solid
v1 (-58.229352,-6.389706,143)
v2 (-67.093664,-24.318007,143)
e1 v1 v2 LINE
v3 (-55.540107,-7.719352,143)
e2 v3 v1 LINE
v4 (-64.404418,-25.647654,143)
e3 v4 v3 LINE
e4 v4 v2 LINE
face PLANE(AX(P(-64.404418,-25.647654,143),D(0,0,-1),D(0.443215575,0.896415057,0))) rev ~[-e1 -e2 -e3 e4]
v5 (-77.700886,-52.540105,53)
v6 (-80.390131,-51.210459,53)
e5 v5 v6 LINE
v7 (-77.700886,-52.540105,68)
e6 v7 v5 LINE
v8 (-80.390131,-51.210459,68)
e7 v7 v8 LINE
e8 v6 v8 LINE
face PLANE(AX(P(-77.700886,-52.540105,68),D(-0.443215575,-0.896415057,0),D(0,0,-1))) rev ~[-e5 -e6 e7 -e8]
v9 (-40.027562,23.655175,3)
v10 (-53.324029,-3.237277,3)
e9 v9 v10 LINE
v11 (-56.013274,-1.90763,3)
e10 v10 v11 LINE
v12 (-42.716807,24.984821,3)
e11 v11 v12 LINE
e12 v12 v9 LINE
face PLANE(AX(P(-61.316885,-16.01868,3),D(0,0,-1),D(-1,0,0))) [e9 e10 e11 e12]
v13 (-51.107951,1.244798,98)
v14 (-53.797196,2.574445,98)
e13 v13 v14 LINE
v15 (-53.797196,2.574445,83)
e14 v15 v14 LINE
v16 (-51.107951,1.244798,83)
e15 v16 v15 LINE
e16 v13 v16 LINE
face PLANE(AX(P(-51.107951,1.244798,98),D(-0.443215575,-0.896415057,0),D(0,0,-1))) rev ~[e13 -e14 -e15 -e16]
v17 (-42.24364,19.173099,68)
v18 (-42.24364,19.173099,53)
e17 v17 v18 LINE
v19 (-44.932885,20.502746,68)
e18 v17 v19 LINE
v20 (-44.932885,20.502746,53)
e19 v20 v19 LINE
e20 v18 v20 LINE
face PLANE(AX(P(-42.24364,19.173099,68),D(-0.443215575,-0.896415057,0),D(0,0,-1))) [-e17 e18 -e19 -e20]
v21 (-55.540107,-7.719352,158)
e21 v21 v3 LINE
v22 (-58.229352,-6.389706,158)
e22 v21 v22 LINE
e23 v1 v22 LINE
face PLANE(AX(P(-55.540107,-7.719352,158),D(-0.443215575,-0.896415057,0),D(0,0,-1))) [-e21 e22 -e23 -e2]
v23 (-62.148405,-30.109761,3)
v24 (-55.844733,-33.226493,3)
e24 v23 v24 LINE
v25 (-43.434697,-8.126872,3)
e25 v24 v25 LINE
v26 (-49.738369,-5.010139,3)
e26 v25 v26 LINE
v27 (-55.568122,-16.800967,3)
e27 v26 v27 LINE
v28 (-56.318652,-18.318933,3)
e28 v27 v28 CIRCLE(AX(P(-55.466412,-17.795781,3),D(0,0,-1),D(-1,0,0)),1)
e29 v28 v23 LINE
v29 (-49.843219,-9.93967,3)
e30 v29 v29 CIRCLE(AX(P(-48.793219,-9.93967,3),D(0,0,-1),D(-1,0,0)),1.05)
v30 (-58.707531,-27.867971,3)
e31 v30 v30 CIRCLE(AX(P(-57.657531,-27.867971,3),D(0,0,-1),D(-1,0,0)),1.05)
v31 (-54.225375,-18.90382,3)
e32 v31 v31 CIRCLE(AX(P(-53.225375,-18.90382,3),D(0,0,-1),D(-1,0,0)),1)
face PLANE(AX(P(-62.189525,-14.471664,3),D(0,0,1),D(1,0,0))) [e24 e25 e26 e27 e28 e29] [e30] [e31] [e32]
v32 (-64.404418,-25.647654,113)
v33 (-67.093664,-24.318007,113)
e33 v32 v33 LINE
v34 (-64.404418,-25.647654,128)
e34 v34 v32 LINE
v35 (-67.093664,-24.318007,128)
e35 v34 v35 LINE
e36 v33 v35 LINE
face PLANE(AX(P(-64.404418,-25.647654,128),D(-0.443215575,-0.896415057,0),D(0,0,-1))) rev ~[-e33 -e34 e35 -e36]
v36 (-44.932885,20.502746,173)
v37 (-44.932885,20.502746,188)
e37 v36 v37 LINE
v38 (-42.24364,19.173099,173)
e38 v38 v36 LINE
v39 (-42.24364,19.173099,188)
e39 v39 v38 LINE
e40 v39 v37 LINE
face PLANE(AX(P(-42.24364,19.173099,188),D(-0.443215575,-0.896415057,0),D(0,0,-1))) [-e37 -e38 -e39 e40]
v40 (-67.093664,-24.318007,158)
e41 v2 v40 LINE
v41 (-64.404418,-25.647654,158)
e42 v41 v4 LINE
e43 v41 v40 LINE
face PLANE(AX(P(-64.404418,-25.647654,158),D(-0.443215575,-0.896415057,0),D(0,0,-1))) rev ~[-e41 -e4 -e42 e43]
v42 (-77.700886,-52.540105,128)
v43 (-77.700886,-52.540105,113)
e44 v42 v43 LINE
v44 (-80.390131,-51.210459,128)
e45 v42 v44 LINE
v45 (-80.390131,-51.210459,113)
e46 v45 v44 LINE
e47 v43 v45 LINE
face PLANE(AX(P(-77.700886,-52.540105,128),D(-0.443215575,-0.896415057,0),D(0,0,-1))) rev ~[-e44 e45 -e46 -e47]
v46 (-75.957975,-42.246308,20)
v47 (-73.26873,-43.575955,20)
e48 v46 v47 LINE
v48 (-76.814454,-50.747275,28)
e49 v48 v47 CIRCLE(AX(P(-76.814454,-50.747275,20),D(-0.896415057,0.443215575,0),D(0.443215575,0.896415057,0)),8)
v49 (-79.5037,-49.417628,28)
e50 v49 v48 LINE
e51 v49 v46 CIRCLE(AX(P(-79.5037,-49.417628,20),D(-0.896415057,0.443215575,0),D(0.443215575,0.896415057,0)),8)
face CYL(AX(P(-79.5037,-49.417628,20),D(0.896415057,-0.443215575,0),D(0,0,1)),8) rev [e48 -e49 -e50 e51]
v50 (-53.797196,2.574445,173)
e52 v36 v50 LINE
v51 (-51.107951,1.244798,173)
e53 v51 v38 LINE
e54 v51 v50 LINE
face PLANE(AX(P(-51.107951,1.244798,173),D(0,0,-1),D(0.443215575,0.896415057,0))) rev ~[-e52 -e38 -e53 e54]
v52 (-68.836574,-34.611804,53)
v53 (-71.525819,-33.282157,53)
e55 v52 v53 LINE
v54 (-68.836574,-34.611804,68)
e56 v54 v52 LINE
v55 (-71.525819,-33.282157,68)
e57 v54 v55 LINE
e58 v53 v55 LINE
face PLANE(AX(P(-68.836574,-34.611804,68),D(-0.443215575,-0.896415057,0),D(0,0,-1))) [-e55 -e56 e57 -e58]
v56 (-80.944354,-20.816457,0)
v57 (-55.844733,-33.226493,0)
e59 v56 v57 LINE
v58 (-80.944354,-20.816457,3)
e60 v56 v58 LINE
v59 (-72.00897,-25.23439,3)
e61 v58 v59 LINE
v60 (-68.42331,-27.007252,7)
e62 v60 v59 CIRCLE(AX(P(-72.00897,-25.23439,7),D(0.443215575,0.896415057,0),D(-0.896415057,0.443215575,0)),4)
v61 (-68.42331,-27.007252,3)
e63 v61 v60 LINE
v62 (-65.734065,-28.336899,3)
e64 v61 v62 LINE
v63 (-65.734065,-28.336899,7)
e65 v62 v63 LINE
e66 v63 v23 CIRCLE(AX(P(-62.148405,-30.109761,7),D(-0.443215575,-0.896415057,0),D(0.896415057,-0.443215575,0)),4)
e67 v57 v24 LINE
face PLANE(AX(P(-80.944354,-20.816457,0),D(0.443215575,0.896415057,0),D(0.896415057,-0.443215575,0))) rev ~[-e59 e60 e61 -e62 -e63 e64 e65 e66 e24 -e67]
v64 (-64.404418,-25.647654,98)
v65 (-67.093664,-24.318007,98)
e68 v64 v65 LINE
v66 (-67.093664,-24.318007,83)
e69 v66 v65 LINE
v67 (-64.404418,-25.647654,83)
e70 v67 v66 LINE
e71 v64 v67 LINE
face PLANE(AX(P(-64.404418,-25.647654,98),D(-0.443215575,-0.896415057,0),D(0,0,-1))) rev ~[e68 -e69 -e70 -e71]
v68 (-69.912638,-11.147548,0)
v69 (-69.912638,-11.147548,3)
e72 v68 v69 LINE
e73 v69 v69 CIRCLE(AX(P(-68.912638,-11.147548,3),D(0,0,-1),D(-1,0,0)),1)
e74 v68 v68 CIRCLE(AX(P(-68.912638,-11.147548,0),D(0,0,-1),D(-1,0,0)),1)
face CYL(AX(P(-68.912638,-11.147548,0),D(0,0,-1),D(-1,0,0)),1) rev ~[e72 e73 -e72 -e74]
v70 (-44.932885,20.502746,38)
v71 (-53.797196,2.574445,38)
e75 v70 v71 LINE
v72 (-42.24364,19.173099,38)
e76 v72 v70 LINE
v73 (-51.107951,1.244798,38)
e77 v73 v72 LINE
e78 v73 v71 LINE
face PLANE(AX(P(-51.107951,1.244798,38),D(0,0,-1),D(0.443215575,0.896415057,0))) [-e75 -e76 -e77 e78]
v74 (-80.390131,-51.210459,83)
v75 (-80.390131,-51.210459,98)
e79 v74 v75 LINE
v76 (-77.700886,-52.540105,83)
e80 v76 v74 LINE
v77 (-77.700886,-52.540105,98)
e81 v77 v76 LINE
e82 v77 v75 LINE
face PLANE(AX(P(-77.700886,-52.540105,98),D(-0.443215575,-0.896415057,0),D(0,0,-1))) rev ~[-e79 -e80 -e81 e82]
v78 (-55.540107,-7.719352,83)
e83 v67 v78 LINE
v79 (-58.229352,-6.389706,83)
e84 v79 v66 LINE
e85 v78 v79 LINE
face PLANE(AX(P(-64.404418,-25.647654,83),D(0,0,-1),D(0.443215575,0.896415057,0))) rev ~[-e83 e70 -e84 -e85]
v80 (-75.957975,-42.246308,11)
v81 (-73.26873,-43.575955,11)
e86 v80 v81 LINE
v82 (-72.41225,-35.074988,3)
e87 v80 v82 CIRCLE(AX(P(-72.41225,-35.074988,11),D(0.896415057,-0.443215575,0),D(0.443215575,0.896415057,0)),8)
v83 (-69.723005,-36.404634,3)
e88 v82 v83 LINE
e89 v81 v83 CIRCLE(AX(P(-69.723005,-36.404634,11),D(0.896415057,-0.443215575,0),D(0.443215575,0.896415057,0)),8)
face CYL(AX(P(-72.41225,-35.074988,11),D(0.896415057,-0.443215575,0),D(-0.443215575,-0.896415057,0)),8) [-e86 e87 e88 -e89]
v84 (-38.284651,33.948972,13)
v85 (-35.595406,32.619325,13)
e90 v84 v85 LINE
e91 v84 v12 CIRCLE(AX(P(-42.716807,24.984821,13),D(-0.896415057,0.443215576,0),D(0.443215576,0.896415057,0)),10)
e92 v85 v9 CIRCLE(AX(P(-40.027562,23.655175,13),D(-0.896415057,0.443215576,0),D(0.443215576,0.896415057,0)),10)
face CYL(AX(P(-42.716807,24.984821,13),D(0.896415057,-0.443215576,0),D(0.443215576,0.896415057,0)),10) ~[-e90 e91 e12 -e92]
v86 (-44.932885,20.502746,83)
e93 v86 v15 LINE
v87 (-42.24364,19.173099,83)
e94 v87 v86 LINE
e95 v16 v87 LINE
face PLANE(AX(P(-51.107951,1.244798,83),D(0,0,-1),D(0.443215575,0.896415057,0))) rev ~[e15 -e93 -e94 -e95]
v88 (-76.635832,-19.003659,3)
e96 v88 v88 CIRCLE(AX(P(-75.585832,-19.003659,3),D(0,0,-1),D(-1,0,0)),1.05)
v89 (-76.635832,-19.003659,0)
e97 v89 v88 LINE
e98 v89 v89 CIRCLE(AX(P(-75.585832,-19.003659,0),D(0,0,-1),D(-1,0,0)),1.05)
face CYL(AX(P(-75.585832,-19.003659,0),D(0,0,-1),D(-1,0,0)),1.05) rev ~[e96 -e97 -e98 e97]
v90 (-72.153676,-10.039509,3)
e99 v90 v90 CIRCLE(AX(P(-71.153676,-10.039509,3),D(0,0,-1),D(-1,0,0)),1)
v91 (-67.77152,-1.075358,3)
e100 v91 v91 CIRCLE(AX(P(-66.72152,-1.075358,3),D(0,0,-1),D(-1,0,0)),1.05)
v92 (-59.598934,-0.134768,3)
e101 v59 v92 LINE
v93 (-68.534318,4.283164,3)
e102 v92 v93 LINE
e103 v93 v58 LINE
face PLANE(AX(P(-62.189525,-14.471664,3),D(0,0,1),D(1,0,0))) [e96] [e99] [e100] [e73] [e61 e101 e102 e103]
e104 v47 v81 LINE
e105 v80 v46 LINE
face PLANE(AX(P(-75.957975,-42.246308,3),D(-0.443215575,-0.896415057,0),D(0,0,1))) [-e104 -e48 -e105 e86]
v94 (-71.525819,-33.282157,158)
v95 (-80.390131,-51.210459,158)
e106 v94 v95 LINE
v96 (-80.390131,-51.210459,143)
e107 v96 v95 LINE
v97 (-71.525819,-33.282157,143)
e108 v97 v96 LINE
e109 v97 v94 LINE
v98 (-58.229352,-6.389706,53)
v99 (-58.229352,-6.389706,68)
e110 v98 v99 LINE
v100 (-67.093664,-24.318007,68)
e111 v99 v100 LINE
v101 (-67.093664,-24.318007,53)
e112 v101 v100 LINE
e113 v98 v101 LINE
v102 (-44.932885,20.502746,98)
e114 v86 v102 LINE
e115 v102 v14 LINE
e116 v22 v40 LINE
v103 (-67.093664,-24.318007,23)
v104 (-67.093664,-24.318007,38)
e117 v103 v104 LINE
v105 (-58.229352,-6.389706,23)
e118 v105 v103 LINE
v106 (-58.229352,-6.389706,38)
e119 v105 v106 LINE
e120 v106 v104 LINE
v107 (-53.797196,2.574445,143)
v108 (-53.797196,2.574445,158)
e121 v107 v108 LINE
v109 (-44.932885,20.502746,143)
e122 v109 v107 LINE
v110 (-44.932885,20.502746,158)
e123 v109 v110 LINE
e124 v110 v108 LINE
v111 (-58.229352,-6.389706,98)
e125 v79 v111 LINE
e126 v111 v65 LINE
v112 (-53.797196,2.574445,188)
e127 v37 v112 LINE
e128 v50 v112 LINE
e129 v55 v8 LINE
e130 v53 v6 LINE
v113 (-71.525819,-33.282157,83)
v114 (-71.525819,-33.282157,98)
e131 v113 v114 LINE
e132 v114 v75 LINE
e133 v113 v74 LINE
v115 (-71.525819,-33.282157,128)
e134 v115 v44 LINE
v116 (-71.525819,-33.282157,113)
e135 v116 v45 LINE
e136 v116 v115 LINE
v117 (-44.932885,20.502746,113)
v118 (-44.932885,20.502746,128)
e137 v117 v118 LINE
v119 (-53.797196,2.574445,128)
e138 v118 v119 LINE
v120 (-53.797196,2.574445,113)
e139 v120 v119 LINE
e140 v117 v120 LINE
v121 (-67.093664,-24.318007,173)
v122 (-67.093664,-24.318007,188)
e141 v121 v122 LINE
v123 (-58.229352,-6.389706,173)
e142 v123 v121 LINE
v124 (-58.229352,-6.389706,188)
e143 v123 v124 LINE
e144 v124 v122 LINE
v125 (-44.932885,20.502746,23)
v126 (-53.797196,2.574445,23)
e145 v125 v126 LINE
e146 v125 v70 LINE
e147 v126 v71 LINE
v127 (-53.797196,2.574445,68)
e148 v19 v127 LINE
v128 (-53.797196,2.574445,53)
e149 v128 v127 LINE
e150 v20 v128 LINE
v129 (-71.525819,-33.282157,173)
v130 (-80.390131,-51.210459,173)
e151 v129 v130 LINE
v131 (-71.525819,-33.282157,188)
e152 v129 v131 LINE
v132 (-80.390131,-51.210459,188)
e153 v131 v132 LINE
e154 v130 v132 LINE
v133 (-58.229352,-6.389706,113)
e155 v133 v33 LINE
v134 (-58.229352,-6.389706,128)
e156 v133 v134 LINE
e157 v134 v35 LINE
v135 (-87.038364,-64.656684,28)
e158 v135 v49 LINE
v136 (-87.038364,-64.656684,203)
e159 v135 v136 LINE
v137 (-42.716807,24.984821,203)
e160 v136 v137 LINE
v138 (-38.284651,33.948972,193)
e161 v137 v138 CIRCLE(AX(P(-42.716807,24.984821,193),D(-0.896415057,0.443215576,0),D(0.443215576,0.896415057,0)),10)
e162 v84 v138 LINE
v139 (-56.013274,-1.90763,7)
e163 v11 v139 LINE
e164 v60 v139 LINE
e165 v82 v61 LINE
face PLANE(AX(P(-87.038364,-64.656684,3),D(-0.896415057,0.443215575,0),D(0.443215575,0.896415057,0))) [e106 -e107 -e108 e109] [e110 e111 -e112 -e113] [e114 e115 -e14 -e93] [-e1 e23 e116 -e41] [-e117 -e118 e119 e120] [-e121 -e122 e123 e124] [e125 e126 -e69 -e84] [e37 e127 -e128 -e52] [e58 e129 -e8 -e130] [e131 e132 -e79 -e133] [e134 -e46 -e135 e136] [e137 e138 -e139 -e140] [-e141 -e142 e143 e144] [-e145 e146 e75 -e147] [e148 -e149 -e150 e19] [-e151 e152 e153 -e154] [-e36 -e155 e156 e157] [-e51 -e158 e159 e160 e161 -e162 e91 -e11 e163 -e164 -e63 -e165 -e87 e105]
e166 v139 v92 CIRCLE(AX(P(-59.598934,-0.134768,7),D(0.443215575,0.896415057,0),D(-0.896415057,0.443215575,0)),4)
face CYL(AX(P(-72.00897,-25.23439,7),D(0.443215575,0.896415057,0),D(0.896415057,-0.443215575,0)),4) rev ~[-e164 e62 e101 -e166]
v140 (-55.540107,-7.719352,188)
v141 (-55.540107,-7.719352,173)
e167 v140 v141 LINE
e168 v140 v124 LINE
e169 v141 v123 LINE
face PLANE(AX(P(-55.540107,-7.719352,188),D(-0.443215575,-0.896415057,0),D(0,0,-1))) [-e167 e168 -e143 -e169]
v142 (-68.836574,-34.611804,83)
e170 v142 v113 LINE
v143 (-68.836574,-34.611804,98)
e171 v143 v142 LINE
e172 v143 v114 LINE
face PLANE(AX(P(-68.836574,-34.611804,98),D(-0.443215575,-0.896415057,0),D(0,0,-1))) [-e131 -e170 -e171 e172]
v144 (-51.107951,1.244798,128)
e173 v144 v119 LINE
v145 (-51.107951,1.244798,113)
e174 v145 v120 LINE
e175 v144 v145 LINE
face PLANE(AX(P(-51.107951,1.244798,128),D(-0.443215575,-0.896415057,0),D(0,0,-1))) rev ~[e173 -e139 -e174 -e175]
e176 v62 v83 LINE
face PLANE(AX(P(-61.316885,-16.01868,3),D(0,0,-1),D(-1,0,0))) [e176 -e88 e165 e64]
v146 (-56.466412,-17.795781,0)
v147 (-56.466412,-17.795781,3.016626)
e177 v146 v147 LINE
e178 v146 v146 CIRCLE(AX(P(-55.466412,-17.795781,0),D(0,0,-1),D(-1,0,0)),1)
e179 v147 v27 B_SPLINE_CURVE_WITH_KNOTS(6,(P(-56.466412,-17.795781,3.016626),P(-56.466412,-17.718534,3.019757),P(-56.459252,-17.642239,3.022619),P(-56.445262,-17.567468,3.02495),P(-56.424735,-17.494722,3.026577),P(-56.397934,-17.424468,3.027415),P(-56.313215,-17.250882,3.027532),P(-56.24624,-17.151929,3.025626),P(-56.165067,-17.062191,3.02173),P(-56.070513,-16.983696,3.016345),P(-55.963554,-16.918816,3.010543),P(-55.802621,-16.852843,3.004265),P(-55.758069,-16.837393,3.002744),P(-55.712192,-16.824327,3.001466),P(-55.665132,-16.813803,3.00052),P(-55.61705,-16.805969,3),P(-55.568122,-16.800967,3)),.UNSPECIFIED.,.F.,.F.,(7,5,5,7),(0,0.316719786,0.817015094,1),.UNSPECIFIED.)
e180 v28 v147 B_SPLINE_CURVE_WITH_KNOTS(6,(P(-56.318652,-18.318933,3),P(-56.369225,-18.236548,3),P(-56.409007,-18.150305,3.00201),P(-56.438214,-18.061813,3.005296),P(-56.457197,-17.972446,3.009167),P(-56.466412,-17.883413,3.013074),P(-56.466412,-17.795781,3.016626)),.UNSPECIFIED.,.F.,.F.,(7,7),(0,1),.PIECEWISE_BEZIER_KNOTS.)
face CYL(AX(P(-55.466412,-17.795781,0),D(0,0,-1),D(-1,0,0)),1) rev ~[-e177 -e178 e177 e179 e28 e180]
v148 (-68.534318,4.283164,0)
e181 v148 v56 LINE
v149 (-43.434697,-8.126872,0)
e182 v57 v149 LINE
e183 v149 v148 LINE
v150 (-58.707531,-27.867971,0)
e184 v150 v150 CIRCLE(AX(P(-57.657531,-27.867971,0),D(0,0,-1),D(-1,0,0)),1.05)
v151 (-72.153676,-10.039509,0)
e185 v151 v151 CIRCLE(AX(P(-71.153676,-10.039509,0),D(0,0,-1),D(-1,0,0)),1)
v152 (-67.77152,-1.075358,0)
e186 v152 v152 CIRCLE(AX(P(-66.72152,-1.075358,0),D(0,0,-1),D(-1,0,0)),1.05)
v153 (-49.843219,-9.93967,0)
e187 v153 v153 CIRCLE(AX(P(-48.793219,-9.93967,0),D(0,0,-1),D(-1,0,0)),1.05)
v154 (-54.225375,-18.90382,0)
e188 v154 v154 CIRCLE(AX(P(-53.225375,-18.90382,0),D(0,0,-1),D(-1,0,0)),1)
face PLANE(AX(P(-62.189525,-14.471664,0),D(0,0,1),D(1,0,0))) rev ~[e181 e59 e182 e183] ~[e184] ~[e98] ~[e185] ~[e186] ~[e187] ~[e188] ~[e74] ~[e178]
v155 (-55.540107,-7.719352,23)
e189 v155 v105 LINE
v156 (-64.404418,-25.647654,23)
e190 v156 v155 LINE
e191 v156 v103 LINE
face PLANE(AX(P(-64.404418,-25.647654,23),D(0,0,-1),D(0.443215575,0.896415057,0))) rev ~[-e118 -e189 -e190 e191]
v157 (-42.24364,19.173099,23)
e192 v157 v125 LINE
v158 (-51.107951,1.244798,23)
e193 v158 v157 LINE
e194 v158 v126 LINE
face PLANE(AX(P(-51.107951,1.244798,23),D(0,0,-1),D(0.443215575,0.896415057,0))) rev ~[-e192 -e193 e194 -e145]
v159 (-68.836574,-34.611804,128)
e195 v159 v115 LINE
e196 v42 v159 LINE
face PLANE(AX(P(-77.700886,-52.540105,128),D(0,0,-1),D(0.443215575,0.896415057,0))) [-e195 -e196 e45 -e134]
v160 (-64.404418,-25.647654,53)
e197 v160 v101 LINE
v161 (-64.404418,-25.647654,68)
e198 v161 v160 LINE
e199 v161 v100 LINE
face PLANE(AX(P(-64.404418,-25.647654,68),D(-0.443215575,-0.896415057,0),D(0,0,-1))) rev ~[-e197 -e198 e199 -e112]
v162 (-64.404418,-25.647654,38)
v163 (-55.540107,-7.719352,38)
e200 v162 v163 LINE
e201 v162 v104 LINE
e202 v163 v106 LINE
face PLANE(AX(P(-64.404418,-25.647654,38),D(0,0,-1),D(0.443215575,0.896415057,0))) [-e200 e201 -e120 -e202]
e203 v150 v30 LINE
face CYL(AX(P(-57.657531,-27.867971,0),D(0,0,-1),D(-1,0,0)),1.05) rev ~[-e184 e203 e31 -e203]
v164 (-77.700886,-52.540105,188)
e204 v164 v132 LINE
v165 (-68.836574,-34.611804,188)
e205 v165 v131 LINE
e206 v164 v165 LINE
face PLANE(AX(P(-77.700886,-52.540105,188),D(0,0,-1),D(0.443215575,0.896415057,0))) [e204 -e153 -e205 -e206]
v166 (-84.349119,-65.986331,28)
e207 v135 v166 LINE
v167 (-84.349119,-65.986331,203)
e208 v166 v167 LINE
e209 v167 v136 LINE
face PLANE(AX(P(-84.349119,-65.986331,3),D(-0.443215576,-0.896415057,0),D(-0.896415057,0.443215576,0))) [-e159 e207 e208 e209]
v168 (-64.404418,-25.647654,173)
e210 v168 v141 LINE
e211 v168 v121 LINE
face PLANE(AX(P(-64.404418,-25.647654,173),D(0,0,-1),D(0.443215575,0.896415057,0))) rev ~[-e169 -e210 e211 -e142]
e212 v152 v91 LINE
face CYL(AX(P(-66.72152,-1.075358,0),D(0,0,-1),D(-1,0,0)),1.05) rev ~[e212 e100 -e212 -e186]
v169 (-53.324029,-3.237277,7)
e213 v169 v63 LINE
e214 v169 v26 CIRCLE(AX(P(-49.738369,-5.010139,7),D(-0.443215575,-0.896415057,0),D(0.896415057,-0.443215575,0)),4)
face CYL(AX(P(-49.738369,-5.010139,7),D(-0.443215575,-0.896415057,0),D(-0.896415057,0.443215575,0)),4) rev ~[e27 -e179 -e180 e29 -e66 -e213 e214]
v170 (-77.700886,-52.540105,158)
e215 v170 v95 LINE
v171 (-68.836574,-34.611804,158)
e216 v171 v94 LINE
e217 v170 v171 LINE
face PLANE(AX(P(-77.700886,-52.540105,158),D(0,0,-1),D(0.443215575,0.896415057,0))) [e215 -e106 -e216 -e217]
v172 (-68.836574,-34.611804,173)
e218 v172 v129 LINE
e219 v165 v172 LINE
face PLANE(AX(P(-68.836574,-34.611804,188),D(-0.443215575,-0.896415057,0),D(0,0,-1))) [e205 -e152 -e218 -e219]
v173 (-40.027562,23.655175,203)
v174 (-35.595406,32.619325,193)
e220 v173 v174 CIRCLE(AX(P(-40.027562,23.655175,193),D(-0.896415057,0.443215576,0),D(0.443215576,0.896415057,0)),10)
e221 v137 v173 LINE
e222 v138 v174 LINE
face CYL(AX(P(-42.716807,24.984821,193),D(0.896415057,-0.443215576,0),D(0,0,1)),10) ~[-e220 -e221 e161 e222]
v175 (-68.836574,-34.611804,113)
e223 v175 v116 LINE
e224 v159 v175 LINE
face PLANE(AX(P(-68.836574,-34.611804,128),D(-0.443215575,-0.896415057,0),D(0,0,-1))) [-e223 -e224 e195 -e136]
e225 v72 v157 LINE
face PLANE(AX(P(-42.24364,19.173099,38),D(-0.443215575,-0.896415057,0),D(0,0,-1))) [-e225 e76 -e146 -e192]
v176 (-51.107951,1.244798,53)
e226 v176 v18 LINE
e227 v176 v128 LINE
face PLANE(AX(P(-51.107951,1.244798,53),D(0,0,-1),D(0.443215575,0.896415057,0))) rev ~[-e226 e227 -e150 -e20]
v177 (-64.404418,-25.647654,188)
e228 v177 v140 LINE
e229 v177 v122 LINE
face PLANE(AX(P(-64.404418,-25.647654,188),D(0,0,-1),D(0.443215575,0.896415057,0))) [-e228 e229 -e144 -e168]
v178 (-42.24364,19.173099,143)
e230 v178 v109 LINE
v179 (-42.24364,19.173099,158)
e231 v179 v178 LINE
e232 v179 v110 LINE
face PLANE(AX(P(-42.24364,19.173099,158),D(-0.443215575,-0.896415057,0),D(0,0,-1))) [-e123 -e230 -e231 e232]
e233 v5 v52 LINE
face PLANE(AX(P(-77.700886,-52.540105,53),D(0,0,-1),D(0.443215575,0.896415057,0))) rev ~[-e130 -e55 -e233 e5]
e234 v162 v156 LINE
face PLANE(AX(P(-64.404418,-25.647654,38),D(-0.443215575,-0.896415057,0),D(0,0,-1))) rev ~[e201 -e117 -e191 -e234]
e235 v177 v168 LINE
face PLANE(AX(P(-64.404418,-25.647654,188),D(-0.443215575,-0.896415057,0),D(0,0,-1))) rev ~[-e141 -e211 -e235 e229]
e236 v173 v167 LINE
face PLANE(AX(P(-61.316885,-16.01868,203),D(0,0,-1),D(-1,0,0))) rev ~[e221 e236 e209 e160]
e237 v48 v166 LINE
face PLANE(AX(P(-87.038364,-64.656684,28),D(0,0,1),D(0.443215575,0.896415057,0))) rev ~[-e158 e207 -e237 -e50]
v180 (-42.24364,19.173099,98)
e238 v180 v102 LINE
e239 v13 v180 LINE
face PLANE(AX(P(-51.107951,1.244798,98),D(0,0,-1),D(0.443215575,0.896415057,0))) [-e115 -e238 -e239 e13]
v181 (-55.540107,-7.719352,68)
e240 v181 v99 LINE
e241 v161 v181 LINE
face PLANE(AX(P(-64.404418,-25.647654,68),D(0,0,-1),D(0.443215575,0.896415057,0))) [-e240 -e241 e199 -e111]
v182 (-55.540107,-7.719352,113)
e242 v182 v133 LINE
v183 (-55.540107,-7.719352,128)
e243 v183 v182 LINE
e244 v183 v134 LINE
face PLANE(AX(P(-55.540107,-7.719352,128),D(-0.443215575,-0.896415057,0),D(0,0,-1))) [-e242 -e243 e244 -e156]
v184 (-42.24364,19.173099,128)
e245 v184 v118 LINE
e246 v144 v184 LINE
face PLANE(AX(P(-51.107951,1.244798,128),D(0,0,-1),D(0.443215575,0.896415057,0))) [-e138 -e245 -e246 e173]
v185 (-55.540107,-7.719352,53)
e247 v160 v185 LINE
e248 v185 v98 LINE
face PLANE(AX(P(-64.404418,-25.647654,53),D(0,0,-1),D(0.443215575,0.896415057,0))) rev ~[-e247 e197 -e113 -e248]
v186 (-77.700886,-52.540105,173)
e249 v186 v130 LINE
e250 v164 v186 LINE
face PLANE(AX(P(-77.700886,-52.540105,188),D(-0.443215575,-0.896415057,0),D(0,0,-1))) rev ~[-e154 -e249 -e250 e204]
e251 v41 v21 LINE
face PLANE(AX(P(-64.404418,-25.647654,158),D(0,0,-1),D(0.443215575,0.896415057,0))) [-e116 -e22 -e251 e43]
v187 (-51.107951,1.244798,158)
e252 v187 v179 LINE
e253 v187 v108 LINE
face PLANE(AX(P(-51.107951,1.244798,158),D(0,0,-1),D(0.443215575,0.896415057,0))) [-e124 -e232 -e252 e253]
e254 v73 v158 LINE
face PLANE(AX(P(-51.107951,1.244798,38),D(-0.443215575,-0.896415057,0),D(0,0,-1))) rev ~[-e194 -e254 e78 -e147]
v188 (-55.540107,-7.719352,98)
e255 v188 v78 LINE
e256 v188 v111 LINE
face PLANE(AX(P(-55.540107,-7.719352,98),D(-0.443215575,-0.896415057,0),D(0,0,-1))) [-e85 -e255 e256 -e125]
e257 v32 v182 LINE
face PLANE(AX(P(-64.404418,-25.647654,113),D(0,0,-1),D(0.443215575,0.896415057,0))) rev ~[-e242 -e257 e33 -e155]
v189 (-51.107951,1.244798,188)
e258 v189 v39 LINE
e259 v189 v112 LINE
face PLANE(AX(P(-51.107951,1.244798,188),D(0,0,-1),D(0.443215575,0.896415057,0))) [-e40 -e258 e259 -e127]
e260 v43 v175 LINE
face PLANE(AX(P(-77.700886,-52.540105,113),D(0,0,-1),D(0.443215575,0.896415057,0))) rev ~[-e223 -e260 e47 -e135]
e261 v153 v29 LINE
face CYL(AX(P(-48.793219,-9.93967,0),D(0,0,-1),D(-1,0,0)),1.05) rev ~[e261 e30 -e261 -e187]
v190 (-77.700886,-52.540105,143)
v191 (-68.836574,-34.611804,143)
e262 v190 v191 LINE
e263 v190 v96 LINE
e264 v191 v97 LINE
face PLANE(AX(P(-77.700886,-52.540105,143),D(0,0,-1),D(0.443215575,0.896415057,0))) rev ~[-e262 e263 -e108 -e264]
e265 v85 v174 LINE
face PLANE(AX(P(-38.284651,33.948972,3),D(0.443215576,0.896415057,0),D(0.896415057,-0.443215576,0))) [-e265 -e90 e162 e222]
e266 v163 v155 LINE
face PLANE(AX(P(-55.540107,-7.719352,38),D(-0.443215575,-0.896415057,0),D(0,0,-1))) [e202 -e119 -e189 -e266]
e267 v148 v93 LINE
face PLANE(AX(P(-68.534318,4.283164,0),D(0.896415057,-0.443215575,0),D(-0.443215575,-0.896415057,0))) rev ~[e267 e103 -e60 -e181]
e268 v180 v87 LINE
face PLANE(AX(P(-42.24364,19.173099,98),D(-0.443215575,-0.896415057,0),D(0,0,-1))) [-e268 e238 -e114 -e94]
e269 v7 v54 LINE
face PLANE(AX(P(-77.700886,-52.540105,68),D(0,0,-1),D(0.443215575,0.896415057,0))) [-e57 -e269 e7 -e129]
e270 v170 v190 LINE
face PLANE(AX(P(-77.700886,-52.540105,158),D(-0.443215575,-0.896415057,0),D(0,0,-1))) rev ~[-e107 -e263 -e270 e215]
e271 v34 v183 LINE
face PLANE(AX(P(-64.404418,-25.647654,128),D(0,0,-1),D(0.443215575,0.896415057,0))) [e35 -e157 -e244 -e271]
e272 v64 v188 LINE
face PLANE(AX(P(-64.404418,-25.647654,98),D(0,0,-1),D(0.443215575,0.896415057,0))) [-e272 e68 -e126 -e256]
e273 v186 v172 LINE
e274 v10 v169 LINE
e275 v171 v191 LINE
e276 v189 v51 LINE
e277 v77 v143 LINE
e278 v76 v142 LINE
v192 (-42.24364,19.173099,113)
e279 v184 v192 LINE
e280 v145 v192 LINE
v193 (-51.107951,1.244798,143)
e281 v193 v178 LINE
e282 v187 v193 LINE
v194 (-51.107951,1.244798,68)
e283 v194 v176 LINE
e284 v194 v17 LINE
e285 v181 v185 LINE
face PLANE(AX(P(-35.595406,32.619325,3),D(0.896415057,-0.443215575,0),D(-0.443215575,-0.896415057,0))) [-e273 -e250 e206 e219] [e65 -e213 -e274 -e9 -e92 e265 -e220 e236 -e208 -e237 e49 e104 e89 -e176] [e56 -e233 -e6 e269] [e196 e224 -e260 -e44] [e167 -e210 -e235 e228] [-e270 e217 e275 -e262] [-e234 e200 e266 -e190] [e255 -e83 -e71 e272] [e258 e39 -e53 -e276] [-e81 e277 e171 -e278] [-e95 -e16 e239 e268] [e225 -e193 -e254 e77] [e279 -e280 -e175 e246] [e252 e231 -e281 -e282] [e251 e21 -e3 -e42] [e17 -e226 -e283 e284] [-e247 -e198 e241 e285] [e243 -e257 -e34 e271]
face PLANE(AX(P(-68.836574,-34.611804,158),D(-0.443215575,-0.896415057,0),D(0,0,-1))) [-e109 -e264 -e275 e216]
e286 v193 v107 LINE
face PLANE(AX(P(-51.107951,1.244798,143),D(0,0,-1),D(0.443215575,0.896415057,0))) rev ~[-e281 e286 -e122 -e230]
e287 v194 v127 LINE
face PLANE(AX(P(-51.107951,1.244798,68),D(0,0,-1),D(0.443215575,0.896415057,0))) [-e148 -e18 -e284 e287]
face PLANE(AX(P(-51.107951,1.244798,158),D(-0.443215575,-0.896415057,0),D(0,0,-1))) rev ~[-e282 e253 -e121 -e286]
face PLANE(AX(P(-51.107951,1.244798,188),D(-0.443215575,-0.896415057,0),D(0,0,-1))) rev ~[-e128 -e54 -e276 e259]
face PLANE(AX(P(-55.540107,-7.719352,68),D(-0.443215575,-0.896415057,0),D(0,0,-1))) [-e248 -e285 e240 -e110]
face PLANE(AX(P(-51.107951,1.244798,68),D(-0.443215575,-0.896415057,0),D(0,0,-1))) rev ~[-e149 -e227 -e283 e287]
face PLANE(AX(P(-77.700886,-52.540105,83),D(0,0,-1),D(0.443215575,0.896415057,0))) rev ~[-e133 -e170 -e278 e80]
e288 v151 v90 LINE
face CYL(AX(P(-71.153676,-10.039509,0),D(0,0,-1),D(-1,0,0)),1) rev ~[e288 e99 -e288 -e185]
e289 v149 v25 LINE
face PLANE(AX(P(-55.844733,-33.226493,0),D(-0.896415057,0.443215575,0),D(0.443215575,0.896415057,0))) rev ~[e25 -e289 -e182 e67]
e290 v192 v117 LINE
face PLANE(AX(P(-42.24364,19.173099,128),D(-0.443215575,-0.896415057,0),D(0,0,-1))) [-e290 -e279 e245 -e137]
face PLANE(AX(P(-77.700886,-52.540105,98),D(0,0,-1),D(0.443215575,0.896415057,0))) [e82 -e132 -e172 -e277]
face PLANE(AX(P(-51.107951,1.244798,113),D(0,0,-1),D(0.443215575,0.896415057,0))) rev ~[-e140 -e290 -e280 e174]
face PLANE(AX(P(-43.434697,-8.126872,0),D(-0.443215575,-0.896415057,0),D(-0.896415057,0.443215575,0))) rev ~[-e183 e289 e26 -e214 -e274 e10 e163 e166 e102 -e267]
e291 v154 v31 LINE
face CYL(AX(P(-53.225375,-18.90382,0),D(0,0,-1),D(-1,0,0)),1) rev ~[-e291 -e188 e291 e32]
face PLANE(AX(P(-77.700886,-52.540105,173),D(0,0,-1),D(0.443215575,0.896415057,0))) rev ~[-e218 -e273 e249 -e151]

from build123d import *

# Parameters (mm, degrees)
EXTRUDE_1_DEPTH     = 3
EXTRUDE_2_DEPTH     = 200
FILLET_1_R          = 4
SKETCH_4_W          = 25
SKETCH_4_H          = 25
CUT_EXTRUDE_1_DEPTH = 4
FILLET_3_R          = 8
SKETCH_5_W          = 15
SKETCH_5_H          = 20
CUT_EXTRUDE_2_DEPTH = 10
FILLET_4_R          = 10
FILLET_5_R          = 10
SKETCH_7_R          = 1.05
SKETCH_7_R_2        = 1
CUT_EXTRUDE_3_DEPTH = 5


with BuildPart() as part:
    # 草图1 → 凸台-拉伸1 (new body)
    with BuildSketch(Plane.XY):
        Polygon((-68.534318099, 4.283164377), (-80.94435421, -20.816457208), (-55.844732625, -33.22649332), (-43.434696514, -8.126871734), align=None)
    extrude(amount=EXTRUDE_1_DEPTH)

    # 草图2 → 凸台-拉伸2 (add)
    with BuildSketch(Plane.XY.offset(3)):
        Polygon((-87.038364402, -64.656684429), (-38.284651107, 33.948971798), (-35.595405937, 32.619325071), (-84.349119232, -65.986331156), align=None)
    extrude(amount=EXTRUDE_2_DEPTH)

    # 圆角1
    fillet_1_edges = [part.edges().sort_by_distance(p)[0] for p in [
        (-59.529047009, -15.787087985, 3),
        (-62.218292179, -14.457441259, 3),
    ]]
    fillet(fillet_1_edges, radius=FILLET_1_R)

    # 草图4 → 切除-拉伸1 (cut)
    with BuildSketch(Plane(origin=(-44.25211262, 21.879625307, 0), x_dir=(0, 0, 1), z_dir=(-0.8964150566080468, 0.4432155754104229, 0))):
        with Locations((15.5, -84.035984194)):
            Rectangle(SKETCH_4_W, SKETCH_4_H)
    extrude(amount=-CUT_EXTRUDE_1_DEPTH, mode=Mode.SUBTRACT)

    # 圆角3
    fillet_3_edges = [part.edges().sort_by_distance(p)[0] for p in [
        (-74.613352432, -42.911131377, 3),
        (-74.613352432, -42.911131377, 28),
    ]]
    fillet(fillet_3_edges, radius=FILLET_3_R)

    # 草图5 → 切除-拉伸2 (cut)
    with BuildSketch(Plane(origin=(-41.56286745, 20.54997858, 0), x_dir=(0, 0, -1), z_dir=(0.8964150566080469, -0.4432155754104229, 0))):
        with Locations((-60.5, -11.535984194)):
            Rectangle(SKETCH_5_W, SKETCH_5_H)
        with Locations((-30.5, -11.535984194)):
            Rectangle(SKETCH_5_W, SKETCH_5_H)
        with Locations((-90.5, -11.535984194)):
            Rectangle(SKETCH_5_W, SKETCH_5_H)
        with Locations((-120.5, -11.535984194)):
            Rectangle(SKETCH_5_W, SKETCH_5_H)
        with Locations((-150.5, -11.535984194)):
            Rectangle(SKETCH_5_W, SKETCH_5_H)
        with Locations((-180.5, -11.535984194)):
            Rectangle(SKETCH_5_W, SKETCH_5_H)
        with Locations((-60.5, -41.535984194)):
            Rectangle(SKETCH_5_W, SKETCH_5_H)
        with Locations((-90.5, -41.535984194)):
            Rectangle(SKETCH_5_W, SKETCH_5_H)
        with Locations((-120.5, -41.535984194)):
            Rectangle(SKETCH_5_W, SKETCH_5_H)
        with Locations((-150.5, -41.535984194)):
            Rectangle(SKETCH_5_W, SKETCH_5_H)
        with Locations((-180.5, -41.535984194)):
            Rectangle(SKETCH_5_W, SKETCH_5_H)
        with Locations((-60.5, -71.535984194)):
            Rectangle(SKETCH_5_W, SKETCH_5_H)
        with Locations((-90.5, -71.535984194)):
            Rectangle(SKETCH_5_W, SKETCH_5_H)
        with Locations((-120.5, -71.535984194)):
            Rectangle(SKETCH_5_W, SKETCH_5_H)
        with Locations((-150.5, -71.535984194)):
            Rectangle(SKETCH_5_W, SKETCH_5_H)
        with Locations((-180.5, -71.535984194)):
            Rectangle(SKETCH_5_W, SKETCH_5_H)
        with Locations((-30.5, -41.535984194)):
            Rectangle(SKETCH_5_W, SKETCH_5_H)
    extrude(amount=-CUT_EXTRUDE_2_DEPTH, mode=Mode.SUBTRACT)

    # 圆角4
    fillet_4_edges = [part.edges().sort_by_distance(p)[0] for p in [
        (-36.940028522, 33.284148434, 203),
    ]]
    fillet(fillet_4_edges, radius=FILLET_4_R)

    # 圆角5
    fillet_5_edges = [part.edges().sort_by_distance(p)[0] for p in [
        (-36.940028522, 33.284148434, 3),
    ]]
    fillet(fillet_5_edges, radius=FILLET_5_R)

    # 草图7 → 切除-拉伸3 (cut)
    with BuildSketch(Plane(origin=(0, 0, 0), x_dir=(-1, 0, 0), z_dir=(0, 0, -1))):
        with Locations((48.793219042, -9.939669659)):
            Circle(SKETCH_7_R)
        with Locations((66.721520174, -1.075358151)):
            Circle(SKETCH_7_R)
        with Locations((71.153675928, -10.039508717)):
            Circle(SKETCH_7_R_2)
        with Locations((68.912638286, -11.147547656)):
            Circle(SKETCH_7_R_2)
        with Locations((75.585831682, -19.003659283)):
            Circle(SKETCH_7_R)
        with Locations((57.65753055, -27.867970791)):
            Circle(SKETCH_7_R)
        with Locations((53.225374796, -18.903820225)):
            Circle(SKETCH_7_R_2)
        with Locations((55.466412437, -17.795781287)):
            Circle(SKETCH_7_R_2)
    extrude(amount=-CUT_EXTRUDE_3_DEPTH, mode=Mode.SUBTRACT)


solid = part.part
